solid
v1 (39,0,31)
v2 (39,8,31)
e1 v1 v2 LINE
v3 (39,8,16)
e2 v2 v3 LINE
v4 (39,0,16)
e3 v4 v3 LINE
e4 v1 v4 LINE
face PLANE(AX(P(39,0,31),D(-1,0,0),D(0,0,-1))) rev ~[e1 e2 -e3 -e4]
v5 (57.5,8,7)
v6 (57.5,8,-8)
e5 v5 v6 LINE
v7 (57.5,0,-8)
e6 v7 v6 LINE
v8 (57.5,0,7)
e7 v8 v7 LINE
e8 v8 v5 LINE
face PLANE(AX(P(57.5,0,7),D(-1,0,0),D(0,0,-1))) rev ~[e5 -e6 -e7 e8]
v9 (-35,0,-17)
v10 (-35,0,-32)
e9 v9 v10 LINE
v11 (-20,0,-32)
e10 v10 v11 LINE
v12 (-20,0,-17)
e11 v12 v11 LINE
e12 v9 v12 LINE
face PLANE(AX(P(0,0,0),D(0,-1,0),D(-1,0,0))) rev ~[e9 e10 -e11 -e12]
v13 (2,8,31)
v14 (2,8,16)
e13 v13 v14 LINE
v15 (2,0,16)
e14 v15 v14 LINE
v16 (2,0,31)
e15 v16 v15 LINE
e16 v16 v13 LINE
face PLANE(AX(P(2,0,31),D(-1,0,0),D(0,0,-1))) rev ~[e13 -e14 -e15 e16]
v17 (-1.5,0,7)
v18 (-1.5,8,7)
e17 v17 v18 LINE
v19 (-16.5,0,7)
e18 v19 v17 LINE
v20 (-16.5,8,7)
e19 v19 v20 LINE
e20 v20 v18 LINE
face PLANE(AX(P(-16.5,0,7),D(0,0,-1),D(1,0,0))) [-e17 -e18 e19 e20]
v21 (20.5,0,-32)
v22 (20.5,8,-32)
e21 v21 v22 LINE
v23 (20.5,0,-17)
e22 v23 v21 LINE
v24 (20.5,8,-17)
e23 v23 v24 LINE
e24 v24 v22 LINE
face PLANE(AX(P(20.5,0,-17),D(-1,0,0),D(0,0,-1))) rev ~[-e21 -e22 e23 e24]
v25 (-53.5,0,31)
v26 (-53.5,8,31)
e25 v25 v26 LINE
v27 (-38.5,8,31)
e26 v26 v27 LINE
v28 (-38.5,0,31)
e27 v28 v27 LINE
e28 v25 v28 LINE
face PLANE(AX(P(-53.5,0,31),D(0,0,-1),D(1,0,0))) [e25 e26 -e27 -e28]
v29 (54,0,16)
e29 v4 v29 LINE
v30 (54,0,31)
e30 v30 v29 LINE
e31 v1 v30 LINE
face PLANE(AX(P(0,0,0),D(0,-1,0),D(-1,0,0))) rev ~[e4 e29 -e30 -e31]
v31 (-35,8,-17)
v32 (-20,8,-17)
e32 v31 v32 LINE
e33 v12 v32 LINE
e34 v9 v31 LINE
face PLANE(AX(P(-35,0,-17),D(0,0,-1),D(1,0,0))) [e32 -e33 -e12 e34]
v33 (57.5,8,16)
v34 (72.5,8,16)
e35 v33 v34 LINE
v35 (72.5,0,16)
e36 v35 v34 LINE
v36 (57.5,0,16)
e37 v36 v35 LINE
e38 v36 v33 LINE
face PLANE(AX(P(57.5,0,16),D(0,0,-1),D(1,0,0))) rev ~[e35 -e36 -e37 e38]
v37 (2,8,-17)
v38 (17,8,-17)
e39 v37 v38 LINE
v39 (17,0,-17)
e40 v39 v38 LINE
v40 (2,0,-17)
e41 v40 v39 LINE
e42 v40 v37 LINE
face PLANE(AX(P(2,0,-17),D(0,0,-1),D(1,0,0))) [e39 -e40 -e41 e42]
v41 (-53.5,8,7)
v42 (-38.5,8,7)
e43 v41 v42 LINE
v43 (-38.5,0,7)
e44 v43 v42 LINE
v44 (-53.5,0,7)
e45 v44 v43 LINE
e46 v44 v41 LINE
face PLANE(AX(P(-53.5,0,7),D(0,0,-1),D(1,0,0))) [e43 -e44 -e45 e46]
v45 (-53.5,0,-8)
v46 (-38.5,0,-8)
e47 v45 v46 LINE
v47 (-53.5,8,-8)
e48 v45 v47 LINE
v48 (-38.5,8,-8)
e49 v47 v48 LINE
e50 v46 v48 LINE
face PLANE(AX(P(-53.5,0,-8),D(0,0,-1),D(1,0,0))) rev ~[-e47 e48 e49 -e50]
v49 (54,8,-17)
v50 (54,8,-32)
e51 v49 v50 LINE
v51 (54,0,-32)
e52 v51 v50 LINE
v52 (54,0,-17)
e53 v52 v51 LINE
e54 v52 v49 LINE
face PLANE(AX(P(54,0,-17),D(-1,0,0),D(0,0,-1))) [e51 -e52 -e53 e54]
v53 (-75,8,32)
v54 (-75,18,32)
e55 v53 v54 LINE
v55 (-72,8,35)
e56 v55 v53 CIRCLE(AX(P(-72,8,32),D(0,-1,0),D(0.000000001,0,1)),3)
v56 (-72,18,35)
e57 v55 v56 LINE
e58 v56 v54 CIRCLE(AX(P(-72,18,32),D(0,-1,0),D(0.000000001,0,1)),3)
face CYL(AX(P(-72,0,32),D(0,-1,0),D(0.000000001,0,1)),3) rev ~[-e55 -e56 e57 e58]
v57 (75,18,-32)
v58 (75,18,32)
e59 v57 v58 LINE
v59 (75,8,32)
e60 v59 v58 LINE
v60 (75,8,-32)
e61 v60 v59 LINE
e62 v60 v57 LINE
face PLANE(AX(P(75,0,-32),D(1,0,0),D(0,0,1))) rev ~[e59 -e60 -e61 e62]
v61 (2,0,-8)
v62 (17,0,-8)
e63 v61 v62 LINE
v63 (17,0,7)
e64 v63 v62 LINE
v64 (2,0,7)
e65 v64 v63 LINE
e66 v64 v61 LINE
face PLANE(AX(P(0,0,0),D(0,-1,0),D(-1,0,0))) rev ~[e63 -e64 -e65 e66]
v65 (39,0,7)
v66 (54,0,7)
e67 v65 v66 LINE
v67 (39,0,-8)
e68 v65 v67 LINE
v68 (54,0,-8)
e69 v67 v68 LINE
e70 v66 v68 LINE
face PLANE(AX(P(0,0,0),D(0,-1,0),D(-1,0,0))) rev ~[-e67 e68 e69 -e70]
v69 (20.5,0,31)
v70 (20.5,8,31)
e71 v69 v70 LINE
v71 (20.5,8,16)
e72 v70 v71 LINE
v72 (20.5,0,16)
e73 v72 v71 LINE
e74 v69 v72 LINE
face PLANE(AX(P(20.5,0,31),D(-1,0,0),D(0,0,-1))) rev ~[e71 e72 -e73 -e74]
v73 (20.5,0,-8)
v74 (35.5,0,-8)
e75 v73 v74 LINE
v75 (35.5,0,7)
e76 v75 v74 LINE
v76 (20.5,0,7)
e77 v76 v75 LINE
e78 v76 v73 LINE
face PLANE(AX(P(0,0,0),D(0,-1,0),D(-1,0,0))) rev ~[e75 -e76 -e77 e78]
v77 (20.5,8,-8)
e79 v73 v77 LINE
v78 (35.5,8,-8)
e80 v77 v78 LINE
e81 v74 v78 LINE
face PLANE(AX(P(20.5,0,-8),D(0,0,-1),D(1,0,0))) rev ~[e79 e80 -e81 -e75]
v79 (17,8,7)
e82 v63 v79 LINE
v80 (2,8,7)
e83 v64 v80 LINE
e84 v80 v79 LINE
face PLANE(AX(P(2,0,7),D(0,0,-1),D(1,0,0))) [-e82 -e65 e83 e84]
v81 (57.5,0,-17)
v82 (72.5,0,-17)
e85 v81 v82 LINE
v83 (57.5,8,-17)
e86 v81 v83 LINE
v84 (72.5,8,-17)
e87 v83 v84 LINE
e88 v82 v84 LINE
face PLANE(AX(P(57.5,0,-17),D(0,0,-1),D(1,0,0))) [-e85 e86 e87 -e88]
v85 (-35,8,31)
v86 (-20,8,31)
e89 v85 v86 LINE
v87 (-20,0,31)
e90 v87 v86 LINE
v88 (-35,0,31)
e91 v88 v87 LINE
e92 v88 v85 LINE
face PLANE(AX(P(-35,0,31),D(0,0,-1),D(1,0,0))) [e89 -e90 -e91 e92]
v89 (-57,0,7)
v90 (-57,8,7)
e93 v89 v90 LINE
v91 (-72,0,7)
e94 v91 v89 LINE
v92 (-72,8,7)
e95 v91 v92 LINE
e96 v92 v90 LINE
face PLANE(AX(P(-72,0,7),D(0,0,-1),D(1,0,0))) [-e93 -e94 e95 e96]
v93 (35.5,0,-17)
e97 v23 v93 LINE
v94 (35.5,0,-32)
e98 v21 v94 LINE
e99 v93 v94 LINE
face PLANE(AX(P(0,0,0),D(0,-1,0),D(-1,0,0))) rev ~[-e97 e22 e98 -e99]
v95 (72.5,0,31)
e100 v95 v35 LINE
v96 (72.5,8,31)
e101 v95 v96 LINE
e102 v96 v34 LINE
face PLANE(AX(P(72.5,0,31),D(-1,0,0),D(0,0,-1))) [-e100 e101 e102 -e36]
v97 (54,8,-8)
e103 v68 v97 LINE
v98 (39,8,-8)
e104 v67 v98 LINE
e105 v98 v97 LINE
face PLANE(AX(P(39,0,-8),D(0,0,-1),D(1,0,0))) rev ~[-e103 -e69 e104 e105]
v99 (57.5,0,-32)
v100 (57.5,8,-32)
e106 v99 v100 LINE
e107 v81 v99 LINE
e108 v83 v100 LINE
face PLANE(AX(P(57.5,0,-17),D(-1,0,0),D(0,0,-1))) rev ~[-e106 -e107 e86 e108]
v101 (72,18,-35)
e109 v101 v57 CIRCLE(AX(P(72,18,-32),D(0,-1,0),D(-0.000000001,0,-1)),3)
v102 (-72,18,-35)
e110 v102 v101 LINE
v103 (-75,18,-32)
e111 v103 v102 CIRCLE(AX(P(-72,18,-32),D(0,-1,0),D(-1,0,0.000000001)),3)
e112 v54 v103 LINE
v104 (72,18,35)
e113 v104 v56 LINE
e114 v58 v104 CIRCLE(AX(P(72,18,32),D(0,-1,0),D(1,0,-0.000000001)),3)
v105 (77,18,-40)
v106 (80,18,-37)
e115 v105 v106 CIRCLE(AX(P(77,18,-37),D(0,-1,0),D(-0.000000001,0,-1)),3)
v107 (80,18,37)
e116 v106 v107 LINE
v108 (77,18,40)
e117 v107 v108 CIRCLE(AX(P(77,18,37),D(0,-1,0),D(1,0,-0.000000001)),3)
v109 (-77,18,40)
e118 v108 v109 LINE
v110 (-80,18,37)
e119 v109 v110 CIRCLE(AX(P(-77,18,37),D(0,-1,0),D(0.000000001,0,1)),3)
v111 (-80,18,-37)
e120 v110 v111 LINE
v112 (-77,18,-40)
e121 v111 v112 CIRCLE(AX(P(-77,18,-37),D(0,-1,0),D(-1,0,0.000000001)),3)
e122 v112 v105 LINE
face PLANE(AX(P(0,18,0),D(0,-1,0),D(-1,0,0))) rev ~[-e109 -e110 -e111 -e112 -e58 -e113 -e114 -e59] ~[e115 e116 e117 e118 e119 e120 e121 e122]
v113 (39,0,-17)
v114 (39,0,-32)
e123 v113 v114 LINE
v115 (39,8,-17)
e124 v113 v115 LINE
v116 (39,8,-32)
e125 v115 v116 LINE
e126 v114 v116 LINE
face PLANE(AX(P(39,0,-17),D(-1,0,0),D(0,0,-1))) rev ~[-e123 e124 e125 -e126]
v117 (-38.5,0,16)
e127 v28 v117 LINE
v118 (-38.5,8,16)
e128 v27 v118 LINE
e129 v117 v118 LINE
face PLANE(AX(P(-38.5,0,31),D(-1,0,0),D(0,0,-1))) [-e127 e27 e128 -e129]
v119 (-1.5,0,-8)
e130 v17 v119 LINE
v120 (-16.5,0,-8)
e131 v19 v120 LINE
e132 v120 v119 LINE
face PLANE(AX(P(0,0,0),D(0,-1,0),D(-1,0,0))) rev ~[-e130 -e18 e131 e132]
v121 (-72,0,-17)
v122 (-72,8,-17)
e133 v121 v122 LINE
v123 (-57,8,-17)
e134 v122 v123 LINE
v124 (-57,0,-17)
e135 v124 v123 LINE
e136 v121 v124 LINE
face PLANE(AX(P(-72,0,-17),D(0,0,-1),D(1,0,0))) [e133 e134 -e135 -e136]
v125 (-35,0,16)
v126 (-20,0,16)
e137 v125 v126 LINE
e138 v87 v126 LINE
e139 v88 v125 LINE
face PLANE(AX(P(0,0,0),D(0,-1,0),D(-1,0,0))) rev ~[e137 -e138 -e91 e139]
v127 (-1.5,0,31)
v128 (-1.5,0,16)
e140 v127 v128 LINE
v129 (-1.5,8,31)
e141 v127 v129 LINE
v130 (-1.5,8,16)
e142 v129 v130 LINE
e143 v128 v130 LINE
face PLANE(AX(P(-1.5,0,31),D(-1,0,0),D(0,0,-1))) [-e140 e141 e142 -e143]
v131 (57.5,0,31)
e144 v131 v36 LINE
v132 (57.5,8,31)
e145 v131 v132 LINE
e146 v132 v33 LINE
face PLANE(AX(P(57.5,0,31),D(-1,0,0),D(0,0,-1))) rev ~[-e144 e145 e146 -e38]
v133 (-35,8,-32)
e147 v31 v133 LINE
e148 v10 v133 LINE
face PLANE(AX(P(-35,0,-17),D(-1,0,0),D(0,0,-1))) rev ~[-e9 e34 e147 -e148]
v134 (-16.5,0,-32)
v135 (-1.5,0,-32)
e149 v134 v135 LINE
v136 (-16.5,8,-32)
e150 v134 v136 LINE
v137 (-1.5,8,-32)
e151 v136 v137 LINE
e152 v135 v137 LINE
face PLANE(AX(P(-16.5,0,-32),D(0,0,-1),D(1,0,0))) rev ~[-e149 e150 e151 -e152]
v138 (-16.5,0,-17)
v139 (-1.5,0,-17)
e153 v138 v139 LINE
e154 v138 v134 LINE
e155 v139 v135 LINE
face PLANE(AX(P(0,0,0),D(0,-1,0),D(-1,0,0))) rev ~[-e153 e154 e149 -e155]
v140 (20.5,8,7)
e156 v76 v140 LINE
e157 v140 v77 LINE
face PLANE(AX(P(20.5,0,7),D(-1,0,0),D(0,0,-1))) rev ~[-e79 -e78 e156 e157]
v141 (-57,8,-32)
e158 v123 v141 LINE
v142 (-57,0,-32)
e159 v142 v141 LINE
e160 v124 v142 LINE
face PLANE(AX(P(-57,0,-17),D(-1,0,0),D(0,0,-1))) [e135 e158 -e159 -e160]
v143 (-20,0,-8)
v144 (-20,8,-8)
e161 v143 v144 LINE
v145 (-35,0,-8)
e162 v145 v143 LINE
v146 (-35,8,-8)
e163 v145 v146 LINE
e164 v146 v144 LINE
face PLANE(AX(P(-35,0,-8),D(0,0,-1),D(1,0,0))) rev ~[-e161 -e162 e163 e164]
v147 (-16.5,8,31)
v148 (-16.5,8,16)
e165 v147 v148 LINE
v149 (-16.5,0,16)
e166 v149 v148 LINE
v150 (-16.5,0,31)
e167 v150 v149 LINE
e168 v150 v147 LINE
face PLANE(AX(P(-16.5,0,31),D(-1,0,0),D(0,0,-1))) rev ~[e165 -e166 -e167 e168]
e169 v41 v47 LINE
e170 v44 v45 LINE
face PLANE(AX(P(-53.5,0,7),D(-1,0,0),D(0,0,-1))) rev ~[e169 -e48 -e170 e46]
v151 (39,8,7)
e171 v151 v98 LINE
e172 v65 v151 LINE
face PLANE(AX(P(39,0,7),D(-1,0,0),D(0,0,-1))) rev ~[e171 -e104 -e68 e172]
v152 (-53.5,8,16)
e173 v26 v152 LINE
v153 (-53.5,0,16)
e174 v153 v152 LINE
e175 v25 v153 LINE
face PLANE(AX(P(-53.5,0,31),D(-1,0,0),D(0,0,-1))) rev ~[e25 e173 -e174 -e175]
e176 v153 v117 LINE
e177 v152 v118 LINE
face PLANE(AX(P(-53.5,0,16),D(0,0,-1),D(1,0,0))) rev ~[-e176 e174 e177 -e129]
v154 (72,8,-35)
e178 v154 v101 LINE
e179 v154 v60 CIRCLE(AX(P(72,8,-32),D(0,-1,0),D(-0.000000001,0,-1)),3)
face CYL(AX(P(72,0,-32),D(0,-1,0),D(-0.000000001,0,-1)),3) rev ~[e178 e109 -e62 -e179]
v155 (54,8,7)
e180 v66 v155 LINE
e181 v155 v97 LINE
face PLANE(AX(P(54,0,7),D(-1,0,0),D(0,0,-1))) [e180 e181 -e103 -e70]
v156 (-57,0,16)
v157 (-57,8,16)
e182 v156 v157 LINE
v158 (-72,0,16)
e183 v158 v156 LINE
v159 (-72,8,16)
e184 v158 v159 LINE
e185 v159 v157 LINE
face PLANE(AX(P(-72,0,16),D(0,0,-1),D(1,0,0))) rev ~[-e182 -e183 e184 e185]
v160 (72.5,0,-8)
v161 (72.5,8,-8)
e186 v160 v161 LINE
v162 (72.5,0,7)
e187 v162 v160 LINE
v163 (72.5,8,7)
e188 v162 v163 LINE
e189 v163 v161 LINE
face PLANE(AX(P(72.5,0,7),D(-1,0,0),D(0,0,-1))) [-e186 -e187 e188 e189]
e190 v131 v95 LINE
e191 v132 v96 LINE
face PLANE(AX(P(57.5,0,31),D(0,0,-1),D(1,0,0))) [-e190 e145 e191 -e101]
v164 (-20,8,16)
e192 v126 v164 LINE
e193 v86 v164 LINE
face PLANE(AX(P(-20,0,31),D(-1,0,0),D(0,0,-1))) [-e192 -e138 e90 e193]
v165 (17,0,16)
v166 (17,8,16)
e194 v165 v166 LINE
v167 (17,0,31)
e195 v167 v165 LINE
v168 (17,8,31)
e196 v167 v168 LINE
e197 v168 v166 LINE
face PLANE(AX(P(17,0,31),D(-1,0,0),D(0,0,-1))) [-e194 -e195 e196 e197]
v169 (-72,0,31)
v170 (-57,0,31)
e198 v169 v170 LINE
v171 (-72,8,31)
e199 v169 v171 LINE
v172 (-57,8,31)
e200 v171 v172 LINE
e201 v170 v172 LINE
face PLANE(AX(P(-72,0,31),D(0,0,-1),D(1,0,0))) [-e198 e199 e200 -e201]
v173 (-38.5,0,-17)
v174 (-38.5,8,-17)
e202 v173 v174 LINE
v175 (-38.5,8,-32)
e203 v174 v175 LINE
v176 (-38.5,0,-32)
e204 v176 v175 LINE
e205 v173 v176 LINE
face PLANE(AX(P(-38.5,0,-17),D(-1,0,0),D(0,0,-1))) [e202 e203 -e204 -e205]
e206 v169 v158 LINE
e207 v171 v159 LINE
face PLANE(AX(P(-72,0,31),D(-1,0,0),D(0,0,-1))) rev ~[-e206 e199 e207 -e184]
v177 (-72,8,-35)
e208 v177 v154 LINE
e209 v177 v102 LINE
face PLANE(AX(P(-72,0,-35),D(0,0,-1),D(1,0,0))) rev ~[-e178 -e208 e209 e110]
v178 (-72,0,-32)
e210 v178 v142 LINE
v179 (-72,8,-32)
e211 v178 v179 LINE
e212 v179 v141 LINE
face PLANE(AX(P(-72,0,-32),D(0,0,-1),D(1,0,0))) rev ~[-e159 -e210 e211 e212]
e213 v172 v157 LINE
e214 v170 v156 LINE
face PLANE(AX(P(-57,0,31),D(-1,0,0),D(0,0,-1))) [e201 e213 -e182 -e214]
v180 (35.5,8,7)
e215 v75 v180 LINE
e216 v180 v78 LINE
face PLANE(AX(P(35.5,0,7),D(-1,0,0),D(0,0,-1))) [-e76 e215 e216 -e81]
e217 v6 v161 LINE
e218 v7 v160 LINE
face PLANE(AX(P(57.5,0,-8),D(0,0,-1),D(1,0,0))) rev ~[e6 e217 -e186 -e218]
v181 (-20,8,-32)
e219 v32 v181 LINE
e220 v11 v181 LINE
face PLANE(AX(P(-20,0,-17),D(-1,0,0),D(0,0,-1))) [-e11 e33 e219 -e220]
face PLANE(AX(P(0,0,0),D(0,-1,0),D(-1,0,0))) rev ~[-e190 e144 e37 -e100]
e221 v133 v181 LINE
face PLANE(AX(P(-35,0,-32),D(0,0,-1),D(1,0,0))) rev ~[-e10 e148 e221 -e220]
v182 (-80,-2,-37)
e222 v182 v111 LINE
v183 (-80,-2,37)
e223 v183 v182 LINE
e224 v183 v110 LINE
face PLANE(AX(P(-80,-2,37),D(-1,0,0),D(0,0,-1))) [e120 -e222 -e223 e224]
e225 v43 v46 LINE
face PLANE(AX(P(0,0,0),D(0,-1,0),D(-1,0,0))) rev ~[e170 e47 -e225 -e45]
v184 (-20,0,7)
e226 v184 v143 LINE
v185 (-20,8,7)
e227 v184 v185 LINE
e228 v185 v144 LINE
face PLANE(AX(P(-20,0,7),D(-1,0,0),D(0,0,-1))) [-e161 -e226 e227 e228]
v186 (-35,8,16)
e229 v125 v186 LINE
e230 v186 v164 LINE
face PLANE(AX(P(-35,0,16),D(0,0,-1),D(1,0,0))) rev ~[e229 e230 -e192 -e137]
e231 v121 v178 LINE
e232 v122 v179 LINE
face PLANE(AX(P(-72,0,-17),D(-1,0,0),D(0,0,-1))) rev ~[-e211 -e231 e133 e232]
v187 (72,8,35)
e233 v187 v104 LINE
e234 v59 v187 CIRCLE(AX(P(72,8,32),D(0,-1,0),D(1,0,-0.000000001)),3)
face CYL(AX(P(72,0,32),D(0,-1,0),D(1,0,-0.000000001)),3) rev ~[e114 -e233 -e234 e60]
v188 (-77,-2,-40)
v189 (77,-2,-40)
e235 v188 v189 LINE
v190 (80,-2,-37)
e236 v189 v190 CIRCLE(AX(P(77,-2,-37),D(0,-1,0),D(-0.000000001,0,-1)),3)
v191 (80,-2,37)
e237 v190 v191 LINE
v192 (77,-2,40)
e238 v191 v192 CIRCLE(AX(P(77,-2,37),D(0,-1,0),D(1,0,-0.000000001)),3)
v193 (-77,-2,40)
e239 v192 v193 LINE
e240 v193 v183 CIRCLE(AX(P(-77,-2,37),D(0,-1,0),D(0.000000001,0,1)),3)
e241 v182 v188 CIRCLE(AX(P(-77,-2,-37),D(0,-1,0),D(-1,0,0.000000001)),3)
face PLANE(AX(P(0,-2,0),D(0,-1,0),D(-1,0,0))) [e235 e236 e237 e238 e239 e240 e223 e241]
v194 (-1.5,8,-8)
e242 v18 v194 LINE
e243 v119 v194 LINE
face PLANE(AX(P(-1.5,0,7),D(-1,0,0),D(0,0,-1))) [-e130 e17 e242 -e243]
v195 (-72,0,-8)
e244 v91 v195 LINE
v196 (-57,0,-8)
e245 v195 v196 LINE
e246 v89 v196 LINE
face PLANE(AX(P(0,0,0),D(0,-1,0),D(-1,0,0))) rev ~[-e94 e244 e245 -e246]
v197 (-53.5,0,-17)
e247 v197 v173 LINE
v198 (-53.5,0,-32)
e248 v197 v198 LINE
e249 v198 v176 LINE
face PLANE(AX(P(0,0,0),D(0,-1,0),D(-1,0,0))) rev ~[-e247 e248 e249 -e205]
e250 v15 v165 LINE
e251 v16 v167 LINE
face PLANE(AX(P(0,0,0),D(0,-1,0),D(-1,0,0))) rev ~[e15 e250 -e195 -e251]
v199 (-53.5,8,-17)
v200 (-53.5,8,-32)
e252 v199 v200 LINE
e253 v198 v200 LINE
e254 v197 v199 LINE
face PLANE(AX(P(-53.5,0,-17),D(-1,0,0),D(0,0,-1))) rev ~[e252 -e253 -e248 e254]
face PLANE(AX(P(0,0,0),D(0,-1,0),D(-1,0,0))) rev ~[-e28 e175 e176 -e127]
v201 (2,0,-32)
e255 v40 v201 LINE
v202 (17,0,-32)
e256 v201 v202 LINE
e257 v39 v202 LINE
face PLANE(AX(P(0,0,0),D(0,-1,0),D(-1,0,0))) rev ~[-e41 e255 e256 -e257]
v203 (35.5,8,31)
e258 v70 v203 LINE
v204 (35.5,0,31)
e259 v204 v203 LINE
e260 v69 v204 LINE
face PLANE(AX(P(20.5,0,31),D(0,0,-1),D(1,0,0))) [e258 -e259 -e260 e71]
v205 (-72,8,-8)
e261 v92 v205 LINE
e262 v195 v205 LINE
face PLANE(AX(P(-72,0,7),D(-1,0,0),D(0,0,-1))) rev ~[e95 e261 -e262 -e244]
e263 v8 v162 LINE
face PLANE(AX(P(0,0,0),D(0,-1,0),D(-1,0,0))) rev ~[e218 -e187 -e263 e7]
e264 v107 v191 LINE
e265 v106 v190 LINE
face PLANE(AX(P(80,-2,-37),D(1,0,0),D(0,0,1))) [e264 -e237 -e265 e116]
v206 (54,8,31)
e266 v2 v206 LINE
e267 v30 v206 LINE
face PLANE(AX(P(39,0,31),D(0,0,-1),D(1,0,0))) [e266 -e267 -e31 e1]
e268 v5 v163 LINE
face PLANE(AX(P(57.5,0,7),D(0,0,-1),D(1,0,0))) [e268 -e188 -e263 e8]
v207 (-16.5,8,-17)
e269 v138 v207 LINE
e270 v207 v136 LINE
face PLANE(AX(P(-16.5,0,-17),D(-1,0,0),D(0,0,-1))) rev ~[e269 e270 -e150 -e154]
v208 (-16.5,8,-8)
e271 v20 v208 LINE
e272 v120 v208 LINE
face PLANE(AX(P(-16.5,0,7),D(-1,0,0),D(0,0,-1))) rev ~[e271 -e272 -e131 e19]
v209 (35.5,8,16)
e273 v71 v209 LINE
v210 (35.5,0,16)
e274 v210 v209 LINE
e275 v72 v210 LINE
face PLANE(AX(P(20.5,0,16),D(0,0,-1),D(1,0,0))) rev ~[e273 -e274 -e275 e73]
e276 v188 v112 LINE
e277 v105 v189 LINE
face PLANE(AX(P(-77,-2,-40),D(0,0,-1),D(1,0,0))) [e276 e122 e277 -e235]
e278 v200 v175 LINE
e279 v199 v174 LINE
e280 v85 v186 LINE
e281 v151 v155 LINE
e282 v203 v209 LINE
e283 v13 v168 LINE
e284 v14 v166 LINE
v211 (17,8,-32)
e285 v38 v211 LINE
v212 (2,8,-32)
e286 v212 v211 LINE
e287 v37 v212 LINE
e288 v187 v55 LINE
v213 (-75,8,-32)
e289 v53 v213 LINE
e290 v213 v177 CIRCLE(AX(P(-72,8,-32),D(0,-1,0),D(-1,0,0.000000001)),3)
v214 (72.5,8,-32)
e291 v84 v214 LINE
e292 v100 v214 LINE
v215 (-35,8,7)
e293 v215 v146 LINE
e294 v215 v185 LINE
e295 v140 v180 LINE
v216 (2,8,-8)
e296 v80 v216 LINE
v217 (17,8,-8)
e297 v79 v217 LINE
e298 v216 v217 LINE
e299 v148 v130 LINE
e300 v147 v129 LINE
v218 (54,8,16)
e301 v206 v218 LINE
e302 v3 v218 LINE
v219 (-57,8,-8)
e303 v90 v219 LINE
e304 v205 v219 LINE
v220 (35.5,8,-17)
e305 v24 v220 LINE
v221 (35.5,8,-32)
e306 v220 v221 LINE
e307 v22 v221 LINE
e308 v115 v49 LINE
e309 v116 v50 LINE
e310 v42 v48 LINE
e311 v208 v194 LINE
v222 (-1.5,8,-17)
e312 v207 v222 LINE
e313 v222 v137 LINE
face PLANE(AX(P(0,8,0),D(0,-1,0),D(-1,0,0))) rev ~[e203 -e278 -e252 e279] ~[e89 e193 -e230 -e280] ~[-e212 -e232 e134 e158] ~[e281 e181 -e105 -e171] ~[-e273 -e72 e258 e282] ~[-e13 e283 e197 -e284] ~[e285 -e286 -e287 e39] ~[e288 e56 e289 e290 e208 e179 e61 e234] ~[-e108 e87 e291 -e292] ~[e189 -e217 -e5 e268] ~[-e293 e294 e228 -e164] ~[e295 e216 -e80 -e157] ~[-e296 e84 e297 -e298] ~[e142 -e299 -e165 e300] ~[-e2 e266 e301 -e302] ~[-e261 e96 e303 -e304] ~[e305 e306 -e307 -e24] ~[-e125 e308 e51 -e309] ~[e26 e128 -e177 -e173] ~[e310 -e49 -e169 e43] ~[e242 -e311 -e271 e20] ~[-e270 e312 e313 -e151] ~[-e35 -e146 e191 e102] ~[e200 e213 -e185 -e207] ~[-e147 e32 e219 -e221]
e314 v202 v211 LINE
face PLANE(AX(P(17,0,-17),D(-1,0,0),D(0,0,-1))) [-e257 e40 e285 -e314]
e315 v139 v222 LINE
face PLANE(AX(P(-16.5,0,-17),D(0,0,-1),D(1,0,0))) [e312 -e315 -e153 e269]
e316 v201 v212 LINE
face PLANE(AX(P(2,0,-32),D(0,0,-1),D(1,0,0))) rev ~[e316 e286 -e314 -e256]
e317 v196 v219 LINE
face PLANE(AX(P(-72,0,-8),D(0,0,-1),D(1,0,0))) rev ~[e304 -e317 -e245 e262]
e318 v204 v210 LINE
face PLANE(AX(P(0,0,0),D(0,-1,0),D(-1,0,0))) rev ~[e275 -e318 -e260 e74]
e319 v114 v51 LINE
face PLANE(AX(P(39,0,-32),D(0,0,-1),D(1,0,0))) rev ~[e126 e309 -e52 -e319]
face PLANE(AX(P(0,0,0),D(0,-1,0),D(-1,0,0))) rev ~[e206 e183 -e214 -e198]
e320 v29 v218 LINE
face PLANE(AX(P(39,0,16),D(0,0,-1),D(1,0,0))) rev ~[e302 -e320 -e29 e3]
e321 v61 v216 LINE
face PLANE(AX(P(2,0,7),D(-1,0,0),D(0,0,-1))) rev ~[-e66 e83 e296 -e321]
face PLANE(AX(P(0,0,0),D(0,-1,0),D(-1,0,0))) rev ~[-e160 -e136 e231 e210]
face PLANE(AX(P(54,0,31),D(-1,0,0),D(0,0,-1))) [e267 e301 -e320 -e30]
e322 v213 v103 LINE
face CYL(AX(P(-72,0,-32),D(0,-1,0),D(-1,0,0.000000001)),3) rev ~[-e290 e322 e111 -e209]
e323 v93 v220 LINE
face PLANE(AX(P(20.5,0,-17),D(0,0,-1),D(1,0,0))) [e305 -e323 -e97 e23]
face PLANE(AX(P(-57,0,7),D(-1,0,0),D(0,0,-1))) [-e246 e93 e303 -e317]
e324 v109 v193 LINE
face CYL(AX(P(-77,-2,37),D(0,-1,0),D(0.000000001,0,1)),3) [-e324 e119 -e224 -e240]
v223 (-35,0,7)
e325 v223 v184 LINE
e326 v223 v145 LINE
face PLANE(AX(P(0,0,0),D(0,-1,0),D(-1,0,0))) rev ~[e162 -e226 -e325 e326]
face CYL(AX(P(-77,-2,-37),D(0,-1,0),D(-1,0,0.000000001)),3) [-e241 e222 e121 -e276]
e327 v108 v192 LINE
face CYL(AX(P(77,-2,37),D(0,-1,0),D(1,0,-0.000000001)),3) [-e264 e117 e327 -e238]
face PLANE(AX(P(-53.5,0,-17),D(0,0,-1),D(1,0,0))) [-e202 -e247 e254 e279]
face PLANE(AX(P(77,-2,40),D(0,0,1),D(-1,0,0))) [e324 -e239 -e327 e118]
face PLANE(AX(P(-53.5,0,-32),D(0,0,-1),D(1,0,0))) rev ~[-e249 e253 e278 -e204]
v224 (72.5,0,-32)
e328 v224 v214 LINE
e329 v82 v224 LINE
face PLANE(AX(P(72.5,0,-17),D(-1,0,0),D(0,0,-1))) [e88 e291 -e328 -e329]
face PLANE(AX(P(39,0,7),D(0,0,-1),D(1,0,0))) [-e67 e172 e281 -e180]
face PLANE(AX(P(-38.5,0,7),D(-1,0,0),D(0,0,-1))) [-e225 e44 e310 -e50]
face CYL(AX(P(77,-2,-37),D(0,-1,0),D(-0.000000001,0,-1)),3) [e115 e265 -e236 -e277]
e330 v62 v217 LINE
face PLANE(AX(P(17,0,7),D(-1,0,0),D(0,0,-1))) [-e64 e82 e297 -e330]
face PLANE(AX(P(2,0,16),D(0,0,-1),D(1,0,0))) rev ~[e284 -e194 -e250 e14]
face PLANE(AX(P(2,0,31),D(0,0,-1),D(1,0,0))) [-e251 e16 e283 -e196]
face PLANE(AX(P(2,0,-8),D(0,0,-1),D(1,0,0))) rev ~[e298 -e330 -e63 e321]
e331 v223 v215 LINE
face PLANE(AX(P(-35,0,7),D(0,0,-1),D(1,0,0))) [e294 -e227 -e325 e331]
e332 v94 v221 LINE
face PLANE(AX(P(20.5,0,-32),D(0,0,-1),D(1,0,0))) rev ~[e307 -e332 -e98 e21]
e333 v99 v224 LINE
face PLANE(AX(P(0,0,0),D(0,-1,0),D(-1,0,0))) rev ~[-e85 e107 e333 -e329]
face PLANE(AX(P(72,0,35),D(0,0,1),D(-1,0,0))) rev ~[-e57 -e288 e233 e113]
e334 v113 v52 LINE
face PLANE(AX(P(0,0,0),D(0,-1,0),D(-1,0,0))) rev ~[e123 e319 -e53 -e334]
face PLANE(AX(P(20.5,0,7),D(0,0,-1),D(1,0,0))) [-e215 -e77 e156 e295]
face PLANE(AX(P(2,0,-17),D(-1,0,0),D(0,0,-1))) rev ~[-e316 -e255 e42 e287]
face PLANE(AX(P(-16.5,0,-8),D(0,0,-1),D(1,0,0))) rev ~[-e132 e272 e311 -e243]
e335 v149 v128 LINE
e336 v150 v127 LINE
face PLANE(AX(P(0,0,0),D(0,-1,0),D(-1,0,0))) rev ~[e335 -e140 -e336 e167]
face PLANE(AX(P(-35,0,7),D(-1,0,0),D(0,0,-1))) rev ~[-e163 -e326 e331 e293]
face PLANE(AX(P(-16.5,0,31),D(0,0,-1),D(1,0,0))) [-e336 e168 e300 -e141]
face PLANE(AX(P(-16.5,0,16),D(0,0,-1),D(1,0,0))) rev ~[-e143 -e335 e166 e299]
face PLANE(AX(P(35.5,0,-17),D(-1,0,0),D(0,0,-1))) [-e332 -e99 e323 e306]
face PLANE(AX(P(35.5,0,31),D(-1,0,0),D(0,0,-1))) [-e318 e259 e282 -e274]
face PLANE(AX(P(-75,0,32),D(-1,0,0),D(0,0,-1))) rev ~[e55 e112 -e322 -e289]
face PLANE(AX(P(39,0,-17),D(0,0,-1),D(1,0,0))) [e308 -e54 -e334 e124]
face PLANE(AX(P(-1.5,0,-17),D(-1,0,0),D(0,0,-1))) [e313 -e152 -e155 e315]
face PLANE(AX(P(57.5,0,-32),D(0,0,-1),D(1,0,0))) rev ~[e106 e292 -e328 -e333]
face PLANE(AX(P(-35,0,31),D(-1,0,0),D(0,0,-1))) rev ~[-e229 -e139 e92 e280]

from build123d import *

# Parameters (mm, degrees)
SKETCH1_W           = 15
SKETCH1_H           = 15
BOSS_EXTRUDE1_DEPTH = 8
BOSS_EXTRUDE2_DEPTH = 18
BOSS_EXTRUDE3_START = -2
BOSS_EXTRUDE3_DEPTH = 2


with BuildPart() as part:
    # Sketch1 → Boss-Extrude1 (new body)
    with BuildSketch(Plane(origin=(0, 0, 0), x_dir=(1, 0, 0), z_dir=(0, 1, 0))):
        with BuildLine():
            Line((77, 40), (-77, 40))
            ThreePointArc((-77, 40), (-79.121320344, 39.121320344), (-80, 37))
            Line((-80, 37), (-80, -37))
            ThreePointArc((-80, -37), (-79.121320344, -39.121320344), (-77, -40))
            Line((-77, -40), (77, -40))
            ThreePointArc((77, -40), (79.121320344, -39.121320344), (80, -37))
            Line((80, -37), (80, 37))
            ThreePointArc((80, 37), (79.121320344, 39.121320344), (77, 40))
        make_face()
        with Locations((-64.5, -23.5)):
            Rectangle(SKETCH1_W, SKETCH1_H, mode=Mode.SUBTRACT)
        with Locations((-46, -23.5)):
            Rectangle(SKETCH1_W, SKETCH1_H, mode=Mode.SUBTRACT)
        with Locations((-27.5, -23.5)):
            Rectangle(SKETCH1_W, SKETCH1_H, mode=Mode.SUBTRACT)
        with Locations((-9, -23.5)):
            Rectangle(SKETCH1_W, SKETCH1_H, mode=Mode.SUBTRACT)
        with Locations((9.5, -23.5)):
            Rectangle(SKETCH1_W, SKETCH1_H, mode=Mode.SUBTRACT)
        with Locations((28, -23.5)):
            Rectangle(SKETCH1_W, SKETCH1_H, mode=Mode.SUBTRACT)
        with Locations((46.5, -23.5)):
            Rectangle(SKETCH1_W, SKETCH1_H, mode=Mode.SUBTRACT)
        with Locations((65, -23.5)):
            Rectangle(SKETCH1_W, SKETCH1_H, mode=Mode.SUBTRACT)
        with Locations((-64.5, 0.5)):
            Rectangle(SKETCH1_W, SKETCH1_H, mode=Mode.SUBTRACT)
        with Locations((-46, 0.5)):
            Rectangle(SKETCH1_W, SKETCH1_H, mode=Mode.SUBTRACT)
        with Locations((-27.5, 0.5)):
            Rectangle(SKETCH1_W, SKETCH1_H, mode=Mode.SUBTRACT)
        with Locations((-9, 0.5)):
            Rectangle(SKETCH1_W, SKETCH1_H, mode=Mode.SUBTRACT)
        with Locations((-64.5, 24.5)):
            Rectangle(SKETCH1_W, SKETCH1_H, mode=Mode.SUBTRACT)
        with Locations((-46, 24.5)):
            Rectangle(SKETCH1_W, SKETCH1_H, mode=Mode.SUBTRACT)
        with Locations((-27.5, 24.5)):
            Rectangle(SKETCH1_W, SKETCH1_H, mode=Mode.SUBTRACT)
        with Locations((-9, 24.5)):
            Rectangle(SKETCH1_W, SKETCH1_H, mode=Mode.SUBTRACT)
        with Locations((9.5, 0.5)):
            Rectangle(SKETCH1_W, SKETCH1_H, mode=Mode.SUBTRACT)
        with Locations((28, 0.5)):
            Rectangle(SKETCH1_W, SKETCH1_H, mode=Mode.SUBTRACT)
        with Locations((46.5, 0.5)):
            Rectangle(SKETCH1_W, SKETCH1_H, mode=Mode.SUBTRACT)
        with Locations((65, 0.5)):
            Rectangle(SKETCH1_W, SKETCH1_H, mode=Mode.SUBTRACT)
        with Locations((9.5, 24.5)):
            Rectangle(SKETCH1_W, SKETCH1_H, mode=Mode.SUBTRACT)
        with Locations((28, 24.5)):
            Rectangle(SKETCH1_W, SKETCH1_H, mode=Mode.SUBTRACT)
        with Locations((46.5, 24.5)):
            Rectangle(SKETCH1_W, SKETCH1_H, mode=Mode.SUBTRACT)
        with Locations((65, 24.5)):
            Rectangle(SKETCH1_W, SKETCH1_H, mode=Mode.SUBTRACT)
    extrude(amount=BOSS_EXTRUDE1_DEPTH)

    # Sketch1<3> → Boss-Extrude2 (add)
    with BuildSketch(Plane(origin=(0, 0, 0), x_dir=(1, 0, 0), z_dir=(0, 1, 0))):
        with BuildLine():
            Line((-77, 40), (77, 40))
            ThreePointArc((77, 40), (79.121320344, 39.121320344), (80, 37))
            Line((80, 37), (80, -37))
            ThreePointArc((80, -37), (79.121320344, -39.121320344), (77, -40))
            Line((77, -40), (-77, -40))
            ThreePointArc((-77, -40), (-79.121320344, -39.121320344), (-80, -37))
            Line((-80, -37), (-80, 37))
            ThreePointArc((-80, 37), (-79.121320344, 39.121320344), (-77, 40))
        make_face()
        with BuildLine():
            Line((-72, 35), (72, 35))
            ThreePointArc((72, 35), (74.121320344, 34.121320344), (75, 32))
            Line((75, 32), (75, -32))
            ThreePointArc((75, -32), (74.121320344, -34.121320344), (72, -35))
            Line((72, -35), (-72, -35))
            ThreePointArc((-72, -35), (-74.121320344, -34.121320344), (-75, -32))
            Line((-75, -32), (-75, 32))
            ThreePointArc((-75, 32), (-74.121320344, 34.121320344), (-72, 35))
        make_face(mode=Mode.SUBTRACT)
    extrude(amount=BOSS_EXTRUDE2_DEPTH)

    # Sketch1<4> → Boss-Extrude3 (add)
    with BuildSketch(Plane(origin=(0, 0, 0), x_dir=(1, 0, 0), z_dir=(0, 1, 0)).offset(BOSS_EXTRUDE3_START)):
        with BuildLine():
            Line((-77, 40), (77, 40))
            ThreePointArc((77, 40), (79.121320344, 39.121320344), (80, 37))
            Line((80, 37), (80, -37))
            ThreePointArc((80, -37), (79.121320344, -39.121320344), (77, -40))
            Line((77, -40), (-77, -40))
            ThreePointArc((-77, -40), (-79.121320344, -39.121320344), (-80, -37))
            Line((-80, -37), (-80, 37))
            ThreePointArc((-80, 37), (-79.121320344, 39.121320344), (-77, 40))
        make_face()
    extrude(amount=BOSS_EXTRUDE3_DEPTH)


solid = part.part
